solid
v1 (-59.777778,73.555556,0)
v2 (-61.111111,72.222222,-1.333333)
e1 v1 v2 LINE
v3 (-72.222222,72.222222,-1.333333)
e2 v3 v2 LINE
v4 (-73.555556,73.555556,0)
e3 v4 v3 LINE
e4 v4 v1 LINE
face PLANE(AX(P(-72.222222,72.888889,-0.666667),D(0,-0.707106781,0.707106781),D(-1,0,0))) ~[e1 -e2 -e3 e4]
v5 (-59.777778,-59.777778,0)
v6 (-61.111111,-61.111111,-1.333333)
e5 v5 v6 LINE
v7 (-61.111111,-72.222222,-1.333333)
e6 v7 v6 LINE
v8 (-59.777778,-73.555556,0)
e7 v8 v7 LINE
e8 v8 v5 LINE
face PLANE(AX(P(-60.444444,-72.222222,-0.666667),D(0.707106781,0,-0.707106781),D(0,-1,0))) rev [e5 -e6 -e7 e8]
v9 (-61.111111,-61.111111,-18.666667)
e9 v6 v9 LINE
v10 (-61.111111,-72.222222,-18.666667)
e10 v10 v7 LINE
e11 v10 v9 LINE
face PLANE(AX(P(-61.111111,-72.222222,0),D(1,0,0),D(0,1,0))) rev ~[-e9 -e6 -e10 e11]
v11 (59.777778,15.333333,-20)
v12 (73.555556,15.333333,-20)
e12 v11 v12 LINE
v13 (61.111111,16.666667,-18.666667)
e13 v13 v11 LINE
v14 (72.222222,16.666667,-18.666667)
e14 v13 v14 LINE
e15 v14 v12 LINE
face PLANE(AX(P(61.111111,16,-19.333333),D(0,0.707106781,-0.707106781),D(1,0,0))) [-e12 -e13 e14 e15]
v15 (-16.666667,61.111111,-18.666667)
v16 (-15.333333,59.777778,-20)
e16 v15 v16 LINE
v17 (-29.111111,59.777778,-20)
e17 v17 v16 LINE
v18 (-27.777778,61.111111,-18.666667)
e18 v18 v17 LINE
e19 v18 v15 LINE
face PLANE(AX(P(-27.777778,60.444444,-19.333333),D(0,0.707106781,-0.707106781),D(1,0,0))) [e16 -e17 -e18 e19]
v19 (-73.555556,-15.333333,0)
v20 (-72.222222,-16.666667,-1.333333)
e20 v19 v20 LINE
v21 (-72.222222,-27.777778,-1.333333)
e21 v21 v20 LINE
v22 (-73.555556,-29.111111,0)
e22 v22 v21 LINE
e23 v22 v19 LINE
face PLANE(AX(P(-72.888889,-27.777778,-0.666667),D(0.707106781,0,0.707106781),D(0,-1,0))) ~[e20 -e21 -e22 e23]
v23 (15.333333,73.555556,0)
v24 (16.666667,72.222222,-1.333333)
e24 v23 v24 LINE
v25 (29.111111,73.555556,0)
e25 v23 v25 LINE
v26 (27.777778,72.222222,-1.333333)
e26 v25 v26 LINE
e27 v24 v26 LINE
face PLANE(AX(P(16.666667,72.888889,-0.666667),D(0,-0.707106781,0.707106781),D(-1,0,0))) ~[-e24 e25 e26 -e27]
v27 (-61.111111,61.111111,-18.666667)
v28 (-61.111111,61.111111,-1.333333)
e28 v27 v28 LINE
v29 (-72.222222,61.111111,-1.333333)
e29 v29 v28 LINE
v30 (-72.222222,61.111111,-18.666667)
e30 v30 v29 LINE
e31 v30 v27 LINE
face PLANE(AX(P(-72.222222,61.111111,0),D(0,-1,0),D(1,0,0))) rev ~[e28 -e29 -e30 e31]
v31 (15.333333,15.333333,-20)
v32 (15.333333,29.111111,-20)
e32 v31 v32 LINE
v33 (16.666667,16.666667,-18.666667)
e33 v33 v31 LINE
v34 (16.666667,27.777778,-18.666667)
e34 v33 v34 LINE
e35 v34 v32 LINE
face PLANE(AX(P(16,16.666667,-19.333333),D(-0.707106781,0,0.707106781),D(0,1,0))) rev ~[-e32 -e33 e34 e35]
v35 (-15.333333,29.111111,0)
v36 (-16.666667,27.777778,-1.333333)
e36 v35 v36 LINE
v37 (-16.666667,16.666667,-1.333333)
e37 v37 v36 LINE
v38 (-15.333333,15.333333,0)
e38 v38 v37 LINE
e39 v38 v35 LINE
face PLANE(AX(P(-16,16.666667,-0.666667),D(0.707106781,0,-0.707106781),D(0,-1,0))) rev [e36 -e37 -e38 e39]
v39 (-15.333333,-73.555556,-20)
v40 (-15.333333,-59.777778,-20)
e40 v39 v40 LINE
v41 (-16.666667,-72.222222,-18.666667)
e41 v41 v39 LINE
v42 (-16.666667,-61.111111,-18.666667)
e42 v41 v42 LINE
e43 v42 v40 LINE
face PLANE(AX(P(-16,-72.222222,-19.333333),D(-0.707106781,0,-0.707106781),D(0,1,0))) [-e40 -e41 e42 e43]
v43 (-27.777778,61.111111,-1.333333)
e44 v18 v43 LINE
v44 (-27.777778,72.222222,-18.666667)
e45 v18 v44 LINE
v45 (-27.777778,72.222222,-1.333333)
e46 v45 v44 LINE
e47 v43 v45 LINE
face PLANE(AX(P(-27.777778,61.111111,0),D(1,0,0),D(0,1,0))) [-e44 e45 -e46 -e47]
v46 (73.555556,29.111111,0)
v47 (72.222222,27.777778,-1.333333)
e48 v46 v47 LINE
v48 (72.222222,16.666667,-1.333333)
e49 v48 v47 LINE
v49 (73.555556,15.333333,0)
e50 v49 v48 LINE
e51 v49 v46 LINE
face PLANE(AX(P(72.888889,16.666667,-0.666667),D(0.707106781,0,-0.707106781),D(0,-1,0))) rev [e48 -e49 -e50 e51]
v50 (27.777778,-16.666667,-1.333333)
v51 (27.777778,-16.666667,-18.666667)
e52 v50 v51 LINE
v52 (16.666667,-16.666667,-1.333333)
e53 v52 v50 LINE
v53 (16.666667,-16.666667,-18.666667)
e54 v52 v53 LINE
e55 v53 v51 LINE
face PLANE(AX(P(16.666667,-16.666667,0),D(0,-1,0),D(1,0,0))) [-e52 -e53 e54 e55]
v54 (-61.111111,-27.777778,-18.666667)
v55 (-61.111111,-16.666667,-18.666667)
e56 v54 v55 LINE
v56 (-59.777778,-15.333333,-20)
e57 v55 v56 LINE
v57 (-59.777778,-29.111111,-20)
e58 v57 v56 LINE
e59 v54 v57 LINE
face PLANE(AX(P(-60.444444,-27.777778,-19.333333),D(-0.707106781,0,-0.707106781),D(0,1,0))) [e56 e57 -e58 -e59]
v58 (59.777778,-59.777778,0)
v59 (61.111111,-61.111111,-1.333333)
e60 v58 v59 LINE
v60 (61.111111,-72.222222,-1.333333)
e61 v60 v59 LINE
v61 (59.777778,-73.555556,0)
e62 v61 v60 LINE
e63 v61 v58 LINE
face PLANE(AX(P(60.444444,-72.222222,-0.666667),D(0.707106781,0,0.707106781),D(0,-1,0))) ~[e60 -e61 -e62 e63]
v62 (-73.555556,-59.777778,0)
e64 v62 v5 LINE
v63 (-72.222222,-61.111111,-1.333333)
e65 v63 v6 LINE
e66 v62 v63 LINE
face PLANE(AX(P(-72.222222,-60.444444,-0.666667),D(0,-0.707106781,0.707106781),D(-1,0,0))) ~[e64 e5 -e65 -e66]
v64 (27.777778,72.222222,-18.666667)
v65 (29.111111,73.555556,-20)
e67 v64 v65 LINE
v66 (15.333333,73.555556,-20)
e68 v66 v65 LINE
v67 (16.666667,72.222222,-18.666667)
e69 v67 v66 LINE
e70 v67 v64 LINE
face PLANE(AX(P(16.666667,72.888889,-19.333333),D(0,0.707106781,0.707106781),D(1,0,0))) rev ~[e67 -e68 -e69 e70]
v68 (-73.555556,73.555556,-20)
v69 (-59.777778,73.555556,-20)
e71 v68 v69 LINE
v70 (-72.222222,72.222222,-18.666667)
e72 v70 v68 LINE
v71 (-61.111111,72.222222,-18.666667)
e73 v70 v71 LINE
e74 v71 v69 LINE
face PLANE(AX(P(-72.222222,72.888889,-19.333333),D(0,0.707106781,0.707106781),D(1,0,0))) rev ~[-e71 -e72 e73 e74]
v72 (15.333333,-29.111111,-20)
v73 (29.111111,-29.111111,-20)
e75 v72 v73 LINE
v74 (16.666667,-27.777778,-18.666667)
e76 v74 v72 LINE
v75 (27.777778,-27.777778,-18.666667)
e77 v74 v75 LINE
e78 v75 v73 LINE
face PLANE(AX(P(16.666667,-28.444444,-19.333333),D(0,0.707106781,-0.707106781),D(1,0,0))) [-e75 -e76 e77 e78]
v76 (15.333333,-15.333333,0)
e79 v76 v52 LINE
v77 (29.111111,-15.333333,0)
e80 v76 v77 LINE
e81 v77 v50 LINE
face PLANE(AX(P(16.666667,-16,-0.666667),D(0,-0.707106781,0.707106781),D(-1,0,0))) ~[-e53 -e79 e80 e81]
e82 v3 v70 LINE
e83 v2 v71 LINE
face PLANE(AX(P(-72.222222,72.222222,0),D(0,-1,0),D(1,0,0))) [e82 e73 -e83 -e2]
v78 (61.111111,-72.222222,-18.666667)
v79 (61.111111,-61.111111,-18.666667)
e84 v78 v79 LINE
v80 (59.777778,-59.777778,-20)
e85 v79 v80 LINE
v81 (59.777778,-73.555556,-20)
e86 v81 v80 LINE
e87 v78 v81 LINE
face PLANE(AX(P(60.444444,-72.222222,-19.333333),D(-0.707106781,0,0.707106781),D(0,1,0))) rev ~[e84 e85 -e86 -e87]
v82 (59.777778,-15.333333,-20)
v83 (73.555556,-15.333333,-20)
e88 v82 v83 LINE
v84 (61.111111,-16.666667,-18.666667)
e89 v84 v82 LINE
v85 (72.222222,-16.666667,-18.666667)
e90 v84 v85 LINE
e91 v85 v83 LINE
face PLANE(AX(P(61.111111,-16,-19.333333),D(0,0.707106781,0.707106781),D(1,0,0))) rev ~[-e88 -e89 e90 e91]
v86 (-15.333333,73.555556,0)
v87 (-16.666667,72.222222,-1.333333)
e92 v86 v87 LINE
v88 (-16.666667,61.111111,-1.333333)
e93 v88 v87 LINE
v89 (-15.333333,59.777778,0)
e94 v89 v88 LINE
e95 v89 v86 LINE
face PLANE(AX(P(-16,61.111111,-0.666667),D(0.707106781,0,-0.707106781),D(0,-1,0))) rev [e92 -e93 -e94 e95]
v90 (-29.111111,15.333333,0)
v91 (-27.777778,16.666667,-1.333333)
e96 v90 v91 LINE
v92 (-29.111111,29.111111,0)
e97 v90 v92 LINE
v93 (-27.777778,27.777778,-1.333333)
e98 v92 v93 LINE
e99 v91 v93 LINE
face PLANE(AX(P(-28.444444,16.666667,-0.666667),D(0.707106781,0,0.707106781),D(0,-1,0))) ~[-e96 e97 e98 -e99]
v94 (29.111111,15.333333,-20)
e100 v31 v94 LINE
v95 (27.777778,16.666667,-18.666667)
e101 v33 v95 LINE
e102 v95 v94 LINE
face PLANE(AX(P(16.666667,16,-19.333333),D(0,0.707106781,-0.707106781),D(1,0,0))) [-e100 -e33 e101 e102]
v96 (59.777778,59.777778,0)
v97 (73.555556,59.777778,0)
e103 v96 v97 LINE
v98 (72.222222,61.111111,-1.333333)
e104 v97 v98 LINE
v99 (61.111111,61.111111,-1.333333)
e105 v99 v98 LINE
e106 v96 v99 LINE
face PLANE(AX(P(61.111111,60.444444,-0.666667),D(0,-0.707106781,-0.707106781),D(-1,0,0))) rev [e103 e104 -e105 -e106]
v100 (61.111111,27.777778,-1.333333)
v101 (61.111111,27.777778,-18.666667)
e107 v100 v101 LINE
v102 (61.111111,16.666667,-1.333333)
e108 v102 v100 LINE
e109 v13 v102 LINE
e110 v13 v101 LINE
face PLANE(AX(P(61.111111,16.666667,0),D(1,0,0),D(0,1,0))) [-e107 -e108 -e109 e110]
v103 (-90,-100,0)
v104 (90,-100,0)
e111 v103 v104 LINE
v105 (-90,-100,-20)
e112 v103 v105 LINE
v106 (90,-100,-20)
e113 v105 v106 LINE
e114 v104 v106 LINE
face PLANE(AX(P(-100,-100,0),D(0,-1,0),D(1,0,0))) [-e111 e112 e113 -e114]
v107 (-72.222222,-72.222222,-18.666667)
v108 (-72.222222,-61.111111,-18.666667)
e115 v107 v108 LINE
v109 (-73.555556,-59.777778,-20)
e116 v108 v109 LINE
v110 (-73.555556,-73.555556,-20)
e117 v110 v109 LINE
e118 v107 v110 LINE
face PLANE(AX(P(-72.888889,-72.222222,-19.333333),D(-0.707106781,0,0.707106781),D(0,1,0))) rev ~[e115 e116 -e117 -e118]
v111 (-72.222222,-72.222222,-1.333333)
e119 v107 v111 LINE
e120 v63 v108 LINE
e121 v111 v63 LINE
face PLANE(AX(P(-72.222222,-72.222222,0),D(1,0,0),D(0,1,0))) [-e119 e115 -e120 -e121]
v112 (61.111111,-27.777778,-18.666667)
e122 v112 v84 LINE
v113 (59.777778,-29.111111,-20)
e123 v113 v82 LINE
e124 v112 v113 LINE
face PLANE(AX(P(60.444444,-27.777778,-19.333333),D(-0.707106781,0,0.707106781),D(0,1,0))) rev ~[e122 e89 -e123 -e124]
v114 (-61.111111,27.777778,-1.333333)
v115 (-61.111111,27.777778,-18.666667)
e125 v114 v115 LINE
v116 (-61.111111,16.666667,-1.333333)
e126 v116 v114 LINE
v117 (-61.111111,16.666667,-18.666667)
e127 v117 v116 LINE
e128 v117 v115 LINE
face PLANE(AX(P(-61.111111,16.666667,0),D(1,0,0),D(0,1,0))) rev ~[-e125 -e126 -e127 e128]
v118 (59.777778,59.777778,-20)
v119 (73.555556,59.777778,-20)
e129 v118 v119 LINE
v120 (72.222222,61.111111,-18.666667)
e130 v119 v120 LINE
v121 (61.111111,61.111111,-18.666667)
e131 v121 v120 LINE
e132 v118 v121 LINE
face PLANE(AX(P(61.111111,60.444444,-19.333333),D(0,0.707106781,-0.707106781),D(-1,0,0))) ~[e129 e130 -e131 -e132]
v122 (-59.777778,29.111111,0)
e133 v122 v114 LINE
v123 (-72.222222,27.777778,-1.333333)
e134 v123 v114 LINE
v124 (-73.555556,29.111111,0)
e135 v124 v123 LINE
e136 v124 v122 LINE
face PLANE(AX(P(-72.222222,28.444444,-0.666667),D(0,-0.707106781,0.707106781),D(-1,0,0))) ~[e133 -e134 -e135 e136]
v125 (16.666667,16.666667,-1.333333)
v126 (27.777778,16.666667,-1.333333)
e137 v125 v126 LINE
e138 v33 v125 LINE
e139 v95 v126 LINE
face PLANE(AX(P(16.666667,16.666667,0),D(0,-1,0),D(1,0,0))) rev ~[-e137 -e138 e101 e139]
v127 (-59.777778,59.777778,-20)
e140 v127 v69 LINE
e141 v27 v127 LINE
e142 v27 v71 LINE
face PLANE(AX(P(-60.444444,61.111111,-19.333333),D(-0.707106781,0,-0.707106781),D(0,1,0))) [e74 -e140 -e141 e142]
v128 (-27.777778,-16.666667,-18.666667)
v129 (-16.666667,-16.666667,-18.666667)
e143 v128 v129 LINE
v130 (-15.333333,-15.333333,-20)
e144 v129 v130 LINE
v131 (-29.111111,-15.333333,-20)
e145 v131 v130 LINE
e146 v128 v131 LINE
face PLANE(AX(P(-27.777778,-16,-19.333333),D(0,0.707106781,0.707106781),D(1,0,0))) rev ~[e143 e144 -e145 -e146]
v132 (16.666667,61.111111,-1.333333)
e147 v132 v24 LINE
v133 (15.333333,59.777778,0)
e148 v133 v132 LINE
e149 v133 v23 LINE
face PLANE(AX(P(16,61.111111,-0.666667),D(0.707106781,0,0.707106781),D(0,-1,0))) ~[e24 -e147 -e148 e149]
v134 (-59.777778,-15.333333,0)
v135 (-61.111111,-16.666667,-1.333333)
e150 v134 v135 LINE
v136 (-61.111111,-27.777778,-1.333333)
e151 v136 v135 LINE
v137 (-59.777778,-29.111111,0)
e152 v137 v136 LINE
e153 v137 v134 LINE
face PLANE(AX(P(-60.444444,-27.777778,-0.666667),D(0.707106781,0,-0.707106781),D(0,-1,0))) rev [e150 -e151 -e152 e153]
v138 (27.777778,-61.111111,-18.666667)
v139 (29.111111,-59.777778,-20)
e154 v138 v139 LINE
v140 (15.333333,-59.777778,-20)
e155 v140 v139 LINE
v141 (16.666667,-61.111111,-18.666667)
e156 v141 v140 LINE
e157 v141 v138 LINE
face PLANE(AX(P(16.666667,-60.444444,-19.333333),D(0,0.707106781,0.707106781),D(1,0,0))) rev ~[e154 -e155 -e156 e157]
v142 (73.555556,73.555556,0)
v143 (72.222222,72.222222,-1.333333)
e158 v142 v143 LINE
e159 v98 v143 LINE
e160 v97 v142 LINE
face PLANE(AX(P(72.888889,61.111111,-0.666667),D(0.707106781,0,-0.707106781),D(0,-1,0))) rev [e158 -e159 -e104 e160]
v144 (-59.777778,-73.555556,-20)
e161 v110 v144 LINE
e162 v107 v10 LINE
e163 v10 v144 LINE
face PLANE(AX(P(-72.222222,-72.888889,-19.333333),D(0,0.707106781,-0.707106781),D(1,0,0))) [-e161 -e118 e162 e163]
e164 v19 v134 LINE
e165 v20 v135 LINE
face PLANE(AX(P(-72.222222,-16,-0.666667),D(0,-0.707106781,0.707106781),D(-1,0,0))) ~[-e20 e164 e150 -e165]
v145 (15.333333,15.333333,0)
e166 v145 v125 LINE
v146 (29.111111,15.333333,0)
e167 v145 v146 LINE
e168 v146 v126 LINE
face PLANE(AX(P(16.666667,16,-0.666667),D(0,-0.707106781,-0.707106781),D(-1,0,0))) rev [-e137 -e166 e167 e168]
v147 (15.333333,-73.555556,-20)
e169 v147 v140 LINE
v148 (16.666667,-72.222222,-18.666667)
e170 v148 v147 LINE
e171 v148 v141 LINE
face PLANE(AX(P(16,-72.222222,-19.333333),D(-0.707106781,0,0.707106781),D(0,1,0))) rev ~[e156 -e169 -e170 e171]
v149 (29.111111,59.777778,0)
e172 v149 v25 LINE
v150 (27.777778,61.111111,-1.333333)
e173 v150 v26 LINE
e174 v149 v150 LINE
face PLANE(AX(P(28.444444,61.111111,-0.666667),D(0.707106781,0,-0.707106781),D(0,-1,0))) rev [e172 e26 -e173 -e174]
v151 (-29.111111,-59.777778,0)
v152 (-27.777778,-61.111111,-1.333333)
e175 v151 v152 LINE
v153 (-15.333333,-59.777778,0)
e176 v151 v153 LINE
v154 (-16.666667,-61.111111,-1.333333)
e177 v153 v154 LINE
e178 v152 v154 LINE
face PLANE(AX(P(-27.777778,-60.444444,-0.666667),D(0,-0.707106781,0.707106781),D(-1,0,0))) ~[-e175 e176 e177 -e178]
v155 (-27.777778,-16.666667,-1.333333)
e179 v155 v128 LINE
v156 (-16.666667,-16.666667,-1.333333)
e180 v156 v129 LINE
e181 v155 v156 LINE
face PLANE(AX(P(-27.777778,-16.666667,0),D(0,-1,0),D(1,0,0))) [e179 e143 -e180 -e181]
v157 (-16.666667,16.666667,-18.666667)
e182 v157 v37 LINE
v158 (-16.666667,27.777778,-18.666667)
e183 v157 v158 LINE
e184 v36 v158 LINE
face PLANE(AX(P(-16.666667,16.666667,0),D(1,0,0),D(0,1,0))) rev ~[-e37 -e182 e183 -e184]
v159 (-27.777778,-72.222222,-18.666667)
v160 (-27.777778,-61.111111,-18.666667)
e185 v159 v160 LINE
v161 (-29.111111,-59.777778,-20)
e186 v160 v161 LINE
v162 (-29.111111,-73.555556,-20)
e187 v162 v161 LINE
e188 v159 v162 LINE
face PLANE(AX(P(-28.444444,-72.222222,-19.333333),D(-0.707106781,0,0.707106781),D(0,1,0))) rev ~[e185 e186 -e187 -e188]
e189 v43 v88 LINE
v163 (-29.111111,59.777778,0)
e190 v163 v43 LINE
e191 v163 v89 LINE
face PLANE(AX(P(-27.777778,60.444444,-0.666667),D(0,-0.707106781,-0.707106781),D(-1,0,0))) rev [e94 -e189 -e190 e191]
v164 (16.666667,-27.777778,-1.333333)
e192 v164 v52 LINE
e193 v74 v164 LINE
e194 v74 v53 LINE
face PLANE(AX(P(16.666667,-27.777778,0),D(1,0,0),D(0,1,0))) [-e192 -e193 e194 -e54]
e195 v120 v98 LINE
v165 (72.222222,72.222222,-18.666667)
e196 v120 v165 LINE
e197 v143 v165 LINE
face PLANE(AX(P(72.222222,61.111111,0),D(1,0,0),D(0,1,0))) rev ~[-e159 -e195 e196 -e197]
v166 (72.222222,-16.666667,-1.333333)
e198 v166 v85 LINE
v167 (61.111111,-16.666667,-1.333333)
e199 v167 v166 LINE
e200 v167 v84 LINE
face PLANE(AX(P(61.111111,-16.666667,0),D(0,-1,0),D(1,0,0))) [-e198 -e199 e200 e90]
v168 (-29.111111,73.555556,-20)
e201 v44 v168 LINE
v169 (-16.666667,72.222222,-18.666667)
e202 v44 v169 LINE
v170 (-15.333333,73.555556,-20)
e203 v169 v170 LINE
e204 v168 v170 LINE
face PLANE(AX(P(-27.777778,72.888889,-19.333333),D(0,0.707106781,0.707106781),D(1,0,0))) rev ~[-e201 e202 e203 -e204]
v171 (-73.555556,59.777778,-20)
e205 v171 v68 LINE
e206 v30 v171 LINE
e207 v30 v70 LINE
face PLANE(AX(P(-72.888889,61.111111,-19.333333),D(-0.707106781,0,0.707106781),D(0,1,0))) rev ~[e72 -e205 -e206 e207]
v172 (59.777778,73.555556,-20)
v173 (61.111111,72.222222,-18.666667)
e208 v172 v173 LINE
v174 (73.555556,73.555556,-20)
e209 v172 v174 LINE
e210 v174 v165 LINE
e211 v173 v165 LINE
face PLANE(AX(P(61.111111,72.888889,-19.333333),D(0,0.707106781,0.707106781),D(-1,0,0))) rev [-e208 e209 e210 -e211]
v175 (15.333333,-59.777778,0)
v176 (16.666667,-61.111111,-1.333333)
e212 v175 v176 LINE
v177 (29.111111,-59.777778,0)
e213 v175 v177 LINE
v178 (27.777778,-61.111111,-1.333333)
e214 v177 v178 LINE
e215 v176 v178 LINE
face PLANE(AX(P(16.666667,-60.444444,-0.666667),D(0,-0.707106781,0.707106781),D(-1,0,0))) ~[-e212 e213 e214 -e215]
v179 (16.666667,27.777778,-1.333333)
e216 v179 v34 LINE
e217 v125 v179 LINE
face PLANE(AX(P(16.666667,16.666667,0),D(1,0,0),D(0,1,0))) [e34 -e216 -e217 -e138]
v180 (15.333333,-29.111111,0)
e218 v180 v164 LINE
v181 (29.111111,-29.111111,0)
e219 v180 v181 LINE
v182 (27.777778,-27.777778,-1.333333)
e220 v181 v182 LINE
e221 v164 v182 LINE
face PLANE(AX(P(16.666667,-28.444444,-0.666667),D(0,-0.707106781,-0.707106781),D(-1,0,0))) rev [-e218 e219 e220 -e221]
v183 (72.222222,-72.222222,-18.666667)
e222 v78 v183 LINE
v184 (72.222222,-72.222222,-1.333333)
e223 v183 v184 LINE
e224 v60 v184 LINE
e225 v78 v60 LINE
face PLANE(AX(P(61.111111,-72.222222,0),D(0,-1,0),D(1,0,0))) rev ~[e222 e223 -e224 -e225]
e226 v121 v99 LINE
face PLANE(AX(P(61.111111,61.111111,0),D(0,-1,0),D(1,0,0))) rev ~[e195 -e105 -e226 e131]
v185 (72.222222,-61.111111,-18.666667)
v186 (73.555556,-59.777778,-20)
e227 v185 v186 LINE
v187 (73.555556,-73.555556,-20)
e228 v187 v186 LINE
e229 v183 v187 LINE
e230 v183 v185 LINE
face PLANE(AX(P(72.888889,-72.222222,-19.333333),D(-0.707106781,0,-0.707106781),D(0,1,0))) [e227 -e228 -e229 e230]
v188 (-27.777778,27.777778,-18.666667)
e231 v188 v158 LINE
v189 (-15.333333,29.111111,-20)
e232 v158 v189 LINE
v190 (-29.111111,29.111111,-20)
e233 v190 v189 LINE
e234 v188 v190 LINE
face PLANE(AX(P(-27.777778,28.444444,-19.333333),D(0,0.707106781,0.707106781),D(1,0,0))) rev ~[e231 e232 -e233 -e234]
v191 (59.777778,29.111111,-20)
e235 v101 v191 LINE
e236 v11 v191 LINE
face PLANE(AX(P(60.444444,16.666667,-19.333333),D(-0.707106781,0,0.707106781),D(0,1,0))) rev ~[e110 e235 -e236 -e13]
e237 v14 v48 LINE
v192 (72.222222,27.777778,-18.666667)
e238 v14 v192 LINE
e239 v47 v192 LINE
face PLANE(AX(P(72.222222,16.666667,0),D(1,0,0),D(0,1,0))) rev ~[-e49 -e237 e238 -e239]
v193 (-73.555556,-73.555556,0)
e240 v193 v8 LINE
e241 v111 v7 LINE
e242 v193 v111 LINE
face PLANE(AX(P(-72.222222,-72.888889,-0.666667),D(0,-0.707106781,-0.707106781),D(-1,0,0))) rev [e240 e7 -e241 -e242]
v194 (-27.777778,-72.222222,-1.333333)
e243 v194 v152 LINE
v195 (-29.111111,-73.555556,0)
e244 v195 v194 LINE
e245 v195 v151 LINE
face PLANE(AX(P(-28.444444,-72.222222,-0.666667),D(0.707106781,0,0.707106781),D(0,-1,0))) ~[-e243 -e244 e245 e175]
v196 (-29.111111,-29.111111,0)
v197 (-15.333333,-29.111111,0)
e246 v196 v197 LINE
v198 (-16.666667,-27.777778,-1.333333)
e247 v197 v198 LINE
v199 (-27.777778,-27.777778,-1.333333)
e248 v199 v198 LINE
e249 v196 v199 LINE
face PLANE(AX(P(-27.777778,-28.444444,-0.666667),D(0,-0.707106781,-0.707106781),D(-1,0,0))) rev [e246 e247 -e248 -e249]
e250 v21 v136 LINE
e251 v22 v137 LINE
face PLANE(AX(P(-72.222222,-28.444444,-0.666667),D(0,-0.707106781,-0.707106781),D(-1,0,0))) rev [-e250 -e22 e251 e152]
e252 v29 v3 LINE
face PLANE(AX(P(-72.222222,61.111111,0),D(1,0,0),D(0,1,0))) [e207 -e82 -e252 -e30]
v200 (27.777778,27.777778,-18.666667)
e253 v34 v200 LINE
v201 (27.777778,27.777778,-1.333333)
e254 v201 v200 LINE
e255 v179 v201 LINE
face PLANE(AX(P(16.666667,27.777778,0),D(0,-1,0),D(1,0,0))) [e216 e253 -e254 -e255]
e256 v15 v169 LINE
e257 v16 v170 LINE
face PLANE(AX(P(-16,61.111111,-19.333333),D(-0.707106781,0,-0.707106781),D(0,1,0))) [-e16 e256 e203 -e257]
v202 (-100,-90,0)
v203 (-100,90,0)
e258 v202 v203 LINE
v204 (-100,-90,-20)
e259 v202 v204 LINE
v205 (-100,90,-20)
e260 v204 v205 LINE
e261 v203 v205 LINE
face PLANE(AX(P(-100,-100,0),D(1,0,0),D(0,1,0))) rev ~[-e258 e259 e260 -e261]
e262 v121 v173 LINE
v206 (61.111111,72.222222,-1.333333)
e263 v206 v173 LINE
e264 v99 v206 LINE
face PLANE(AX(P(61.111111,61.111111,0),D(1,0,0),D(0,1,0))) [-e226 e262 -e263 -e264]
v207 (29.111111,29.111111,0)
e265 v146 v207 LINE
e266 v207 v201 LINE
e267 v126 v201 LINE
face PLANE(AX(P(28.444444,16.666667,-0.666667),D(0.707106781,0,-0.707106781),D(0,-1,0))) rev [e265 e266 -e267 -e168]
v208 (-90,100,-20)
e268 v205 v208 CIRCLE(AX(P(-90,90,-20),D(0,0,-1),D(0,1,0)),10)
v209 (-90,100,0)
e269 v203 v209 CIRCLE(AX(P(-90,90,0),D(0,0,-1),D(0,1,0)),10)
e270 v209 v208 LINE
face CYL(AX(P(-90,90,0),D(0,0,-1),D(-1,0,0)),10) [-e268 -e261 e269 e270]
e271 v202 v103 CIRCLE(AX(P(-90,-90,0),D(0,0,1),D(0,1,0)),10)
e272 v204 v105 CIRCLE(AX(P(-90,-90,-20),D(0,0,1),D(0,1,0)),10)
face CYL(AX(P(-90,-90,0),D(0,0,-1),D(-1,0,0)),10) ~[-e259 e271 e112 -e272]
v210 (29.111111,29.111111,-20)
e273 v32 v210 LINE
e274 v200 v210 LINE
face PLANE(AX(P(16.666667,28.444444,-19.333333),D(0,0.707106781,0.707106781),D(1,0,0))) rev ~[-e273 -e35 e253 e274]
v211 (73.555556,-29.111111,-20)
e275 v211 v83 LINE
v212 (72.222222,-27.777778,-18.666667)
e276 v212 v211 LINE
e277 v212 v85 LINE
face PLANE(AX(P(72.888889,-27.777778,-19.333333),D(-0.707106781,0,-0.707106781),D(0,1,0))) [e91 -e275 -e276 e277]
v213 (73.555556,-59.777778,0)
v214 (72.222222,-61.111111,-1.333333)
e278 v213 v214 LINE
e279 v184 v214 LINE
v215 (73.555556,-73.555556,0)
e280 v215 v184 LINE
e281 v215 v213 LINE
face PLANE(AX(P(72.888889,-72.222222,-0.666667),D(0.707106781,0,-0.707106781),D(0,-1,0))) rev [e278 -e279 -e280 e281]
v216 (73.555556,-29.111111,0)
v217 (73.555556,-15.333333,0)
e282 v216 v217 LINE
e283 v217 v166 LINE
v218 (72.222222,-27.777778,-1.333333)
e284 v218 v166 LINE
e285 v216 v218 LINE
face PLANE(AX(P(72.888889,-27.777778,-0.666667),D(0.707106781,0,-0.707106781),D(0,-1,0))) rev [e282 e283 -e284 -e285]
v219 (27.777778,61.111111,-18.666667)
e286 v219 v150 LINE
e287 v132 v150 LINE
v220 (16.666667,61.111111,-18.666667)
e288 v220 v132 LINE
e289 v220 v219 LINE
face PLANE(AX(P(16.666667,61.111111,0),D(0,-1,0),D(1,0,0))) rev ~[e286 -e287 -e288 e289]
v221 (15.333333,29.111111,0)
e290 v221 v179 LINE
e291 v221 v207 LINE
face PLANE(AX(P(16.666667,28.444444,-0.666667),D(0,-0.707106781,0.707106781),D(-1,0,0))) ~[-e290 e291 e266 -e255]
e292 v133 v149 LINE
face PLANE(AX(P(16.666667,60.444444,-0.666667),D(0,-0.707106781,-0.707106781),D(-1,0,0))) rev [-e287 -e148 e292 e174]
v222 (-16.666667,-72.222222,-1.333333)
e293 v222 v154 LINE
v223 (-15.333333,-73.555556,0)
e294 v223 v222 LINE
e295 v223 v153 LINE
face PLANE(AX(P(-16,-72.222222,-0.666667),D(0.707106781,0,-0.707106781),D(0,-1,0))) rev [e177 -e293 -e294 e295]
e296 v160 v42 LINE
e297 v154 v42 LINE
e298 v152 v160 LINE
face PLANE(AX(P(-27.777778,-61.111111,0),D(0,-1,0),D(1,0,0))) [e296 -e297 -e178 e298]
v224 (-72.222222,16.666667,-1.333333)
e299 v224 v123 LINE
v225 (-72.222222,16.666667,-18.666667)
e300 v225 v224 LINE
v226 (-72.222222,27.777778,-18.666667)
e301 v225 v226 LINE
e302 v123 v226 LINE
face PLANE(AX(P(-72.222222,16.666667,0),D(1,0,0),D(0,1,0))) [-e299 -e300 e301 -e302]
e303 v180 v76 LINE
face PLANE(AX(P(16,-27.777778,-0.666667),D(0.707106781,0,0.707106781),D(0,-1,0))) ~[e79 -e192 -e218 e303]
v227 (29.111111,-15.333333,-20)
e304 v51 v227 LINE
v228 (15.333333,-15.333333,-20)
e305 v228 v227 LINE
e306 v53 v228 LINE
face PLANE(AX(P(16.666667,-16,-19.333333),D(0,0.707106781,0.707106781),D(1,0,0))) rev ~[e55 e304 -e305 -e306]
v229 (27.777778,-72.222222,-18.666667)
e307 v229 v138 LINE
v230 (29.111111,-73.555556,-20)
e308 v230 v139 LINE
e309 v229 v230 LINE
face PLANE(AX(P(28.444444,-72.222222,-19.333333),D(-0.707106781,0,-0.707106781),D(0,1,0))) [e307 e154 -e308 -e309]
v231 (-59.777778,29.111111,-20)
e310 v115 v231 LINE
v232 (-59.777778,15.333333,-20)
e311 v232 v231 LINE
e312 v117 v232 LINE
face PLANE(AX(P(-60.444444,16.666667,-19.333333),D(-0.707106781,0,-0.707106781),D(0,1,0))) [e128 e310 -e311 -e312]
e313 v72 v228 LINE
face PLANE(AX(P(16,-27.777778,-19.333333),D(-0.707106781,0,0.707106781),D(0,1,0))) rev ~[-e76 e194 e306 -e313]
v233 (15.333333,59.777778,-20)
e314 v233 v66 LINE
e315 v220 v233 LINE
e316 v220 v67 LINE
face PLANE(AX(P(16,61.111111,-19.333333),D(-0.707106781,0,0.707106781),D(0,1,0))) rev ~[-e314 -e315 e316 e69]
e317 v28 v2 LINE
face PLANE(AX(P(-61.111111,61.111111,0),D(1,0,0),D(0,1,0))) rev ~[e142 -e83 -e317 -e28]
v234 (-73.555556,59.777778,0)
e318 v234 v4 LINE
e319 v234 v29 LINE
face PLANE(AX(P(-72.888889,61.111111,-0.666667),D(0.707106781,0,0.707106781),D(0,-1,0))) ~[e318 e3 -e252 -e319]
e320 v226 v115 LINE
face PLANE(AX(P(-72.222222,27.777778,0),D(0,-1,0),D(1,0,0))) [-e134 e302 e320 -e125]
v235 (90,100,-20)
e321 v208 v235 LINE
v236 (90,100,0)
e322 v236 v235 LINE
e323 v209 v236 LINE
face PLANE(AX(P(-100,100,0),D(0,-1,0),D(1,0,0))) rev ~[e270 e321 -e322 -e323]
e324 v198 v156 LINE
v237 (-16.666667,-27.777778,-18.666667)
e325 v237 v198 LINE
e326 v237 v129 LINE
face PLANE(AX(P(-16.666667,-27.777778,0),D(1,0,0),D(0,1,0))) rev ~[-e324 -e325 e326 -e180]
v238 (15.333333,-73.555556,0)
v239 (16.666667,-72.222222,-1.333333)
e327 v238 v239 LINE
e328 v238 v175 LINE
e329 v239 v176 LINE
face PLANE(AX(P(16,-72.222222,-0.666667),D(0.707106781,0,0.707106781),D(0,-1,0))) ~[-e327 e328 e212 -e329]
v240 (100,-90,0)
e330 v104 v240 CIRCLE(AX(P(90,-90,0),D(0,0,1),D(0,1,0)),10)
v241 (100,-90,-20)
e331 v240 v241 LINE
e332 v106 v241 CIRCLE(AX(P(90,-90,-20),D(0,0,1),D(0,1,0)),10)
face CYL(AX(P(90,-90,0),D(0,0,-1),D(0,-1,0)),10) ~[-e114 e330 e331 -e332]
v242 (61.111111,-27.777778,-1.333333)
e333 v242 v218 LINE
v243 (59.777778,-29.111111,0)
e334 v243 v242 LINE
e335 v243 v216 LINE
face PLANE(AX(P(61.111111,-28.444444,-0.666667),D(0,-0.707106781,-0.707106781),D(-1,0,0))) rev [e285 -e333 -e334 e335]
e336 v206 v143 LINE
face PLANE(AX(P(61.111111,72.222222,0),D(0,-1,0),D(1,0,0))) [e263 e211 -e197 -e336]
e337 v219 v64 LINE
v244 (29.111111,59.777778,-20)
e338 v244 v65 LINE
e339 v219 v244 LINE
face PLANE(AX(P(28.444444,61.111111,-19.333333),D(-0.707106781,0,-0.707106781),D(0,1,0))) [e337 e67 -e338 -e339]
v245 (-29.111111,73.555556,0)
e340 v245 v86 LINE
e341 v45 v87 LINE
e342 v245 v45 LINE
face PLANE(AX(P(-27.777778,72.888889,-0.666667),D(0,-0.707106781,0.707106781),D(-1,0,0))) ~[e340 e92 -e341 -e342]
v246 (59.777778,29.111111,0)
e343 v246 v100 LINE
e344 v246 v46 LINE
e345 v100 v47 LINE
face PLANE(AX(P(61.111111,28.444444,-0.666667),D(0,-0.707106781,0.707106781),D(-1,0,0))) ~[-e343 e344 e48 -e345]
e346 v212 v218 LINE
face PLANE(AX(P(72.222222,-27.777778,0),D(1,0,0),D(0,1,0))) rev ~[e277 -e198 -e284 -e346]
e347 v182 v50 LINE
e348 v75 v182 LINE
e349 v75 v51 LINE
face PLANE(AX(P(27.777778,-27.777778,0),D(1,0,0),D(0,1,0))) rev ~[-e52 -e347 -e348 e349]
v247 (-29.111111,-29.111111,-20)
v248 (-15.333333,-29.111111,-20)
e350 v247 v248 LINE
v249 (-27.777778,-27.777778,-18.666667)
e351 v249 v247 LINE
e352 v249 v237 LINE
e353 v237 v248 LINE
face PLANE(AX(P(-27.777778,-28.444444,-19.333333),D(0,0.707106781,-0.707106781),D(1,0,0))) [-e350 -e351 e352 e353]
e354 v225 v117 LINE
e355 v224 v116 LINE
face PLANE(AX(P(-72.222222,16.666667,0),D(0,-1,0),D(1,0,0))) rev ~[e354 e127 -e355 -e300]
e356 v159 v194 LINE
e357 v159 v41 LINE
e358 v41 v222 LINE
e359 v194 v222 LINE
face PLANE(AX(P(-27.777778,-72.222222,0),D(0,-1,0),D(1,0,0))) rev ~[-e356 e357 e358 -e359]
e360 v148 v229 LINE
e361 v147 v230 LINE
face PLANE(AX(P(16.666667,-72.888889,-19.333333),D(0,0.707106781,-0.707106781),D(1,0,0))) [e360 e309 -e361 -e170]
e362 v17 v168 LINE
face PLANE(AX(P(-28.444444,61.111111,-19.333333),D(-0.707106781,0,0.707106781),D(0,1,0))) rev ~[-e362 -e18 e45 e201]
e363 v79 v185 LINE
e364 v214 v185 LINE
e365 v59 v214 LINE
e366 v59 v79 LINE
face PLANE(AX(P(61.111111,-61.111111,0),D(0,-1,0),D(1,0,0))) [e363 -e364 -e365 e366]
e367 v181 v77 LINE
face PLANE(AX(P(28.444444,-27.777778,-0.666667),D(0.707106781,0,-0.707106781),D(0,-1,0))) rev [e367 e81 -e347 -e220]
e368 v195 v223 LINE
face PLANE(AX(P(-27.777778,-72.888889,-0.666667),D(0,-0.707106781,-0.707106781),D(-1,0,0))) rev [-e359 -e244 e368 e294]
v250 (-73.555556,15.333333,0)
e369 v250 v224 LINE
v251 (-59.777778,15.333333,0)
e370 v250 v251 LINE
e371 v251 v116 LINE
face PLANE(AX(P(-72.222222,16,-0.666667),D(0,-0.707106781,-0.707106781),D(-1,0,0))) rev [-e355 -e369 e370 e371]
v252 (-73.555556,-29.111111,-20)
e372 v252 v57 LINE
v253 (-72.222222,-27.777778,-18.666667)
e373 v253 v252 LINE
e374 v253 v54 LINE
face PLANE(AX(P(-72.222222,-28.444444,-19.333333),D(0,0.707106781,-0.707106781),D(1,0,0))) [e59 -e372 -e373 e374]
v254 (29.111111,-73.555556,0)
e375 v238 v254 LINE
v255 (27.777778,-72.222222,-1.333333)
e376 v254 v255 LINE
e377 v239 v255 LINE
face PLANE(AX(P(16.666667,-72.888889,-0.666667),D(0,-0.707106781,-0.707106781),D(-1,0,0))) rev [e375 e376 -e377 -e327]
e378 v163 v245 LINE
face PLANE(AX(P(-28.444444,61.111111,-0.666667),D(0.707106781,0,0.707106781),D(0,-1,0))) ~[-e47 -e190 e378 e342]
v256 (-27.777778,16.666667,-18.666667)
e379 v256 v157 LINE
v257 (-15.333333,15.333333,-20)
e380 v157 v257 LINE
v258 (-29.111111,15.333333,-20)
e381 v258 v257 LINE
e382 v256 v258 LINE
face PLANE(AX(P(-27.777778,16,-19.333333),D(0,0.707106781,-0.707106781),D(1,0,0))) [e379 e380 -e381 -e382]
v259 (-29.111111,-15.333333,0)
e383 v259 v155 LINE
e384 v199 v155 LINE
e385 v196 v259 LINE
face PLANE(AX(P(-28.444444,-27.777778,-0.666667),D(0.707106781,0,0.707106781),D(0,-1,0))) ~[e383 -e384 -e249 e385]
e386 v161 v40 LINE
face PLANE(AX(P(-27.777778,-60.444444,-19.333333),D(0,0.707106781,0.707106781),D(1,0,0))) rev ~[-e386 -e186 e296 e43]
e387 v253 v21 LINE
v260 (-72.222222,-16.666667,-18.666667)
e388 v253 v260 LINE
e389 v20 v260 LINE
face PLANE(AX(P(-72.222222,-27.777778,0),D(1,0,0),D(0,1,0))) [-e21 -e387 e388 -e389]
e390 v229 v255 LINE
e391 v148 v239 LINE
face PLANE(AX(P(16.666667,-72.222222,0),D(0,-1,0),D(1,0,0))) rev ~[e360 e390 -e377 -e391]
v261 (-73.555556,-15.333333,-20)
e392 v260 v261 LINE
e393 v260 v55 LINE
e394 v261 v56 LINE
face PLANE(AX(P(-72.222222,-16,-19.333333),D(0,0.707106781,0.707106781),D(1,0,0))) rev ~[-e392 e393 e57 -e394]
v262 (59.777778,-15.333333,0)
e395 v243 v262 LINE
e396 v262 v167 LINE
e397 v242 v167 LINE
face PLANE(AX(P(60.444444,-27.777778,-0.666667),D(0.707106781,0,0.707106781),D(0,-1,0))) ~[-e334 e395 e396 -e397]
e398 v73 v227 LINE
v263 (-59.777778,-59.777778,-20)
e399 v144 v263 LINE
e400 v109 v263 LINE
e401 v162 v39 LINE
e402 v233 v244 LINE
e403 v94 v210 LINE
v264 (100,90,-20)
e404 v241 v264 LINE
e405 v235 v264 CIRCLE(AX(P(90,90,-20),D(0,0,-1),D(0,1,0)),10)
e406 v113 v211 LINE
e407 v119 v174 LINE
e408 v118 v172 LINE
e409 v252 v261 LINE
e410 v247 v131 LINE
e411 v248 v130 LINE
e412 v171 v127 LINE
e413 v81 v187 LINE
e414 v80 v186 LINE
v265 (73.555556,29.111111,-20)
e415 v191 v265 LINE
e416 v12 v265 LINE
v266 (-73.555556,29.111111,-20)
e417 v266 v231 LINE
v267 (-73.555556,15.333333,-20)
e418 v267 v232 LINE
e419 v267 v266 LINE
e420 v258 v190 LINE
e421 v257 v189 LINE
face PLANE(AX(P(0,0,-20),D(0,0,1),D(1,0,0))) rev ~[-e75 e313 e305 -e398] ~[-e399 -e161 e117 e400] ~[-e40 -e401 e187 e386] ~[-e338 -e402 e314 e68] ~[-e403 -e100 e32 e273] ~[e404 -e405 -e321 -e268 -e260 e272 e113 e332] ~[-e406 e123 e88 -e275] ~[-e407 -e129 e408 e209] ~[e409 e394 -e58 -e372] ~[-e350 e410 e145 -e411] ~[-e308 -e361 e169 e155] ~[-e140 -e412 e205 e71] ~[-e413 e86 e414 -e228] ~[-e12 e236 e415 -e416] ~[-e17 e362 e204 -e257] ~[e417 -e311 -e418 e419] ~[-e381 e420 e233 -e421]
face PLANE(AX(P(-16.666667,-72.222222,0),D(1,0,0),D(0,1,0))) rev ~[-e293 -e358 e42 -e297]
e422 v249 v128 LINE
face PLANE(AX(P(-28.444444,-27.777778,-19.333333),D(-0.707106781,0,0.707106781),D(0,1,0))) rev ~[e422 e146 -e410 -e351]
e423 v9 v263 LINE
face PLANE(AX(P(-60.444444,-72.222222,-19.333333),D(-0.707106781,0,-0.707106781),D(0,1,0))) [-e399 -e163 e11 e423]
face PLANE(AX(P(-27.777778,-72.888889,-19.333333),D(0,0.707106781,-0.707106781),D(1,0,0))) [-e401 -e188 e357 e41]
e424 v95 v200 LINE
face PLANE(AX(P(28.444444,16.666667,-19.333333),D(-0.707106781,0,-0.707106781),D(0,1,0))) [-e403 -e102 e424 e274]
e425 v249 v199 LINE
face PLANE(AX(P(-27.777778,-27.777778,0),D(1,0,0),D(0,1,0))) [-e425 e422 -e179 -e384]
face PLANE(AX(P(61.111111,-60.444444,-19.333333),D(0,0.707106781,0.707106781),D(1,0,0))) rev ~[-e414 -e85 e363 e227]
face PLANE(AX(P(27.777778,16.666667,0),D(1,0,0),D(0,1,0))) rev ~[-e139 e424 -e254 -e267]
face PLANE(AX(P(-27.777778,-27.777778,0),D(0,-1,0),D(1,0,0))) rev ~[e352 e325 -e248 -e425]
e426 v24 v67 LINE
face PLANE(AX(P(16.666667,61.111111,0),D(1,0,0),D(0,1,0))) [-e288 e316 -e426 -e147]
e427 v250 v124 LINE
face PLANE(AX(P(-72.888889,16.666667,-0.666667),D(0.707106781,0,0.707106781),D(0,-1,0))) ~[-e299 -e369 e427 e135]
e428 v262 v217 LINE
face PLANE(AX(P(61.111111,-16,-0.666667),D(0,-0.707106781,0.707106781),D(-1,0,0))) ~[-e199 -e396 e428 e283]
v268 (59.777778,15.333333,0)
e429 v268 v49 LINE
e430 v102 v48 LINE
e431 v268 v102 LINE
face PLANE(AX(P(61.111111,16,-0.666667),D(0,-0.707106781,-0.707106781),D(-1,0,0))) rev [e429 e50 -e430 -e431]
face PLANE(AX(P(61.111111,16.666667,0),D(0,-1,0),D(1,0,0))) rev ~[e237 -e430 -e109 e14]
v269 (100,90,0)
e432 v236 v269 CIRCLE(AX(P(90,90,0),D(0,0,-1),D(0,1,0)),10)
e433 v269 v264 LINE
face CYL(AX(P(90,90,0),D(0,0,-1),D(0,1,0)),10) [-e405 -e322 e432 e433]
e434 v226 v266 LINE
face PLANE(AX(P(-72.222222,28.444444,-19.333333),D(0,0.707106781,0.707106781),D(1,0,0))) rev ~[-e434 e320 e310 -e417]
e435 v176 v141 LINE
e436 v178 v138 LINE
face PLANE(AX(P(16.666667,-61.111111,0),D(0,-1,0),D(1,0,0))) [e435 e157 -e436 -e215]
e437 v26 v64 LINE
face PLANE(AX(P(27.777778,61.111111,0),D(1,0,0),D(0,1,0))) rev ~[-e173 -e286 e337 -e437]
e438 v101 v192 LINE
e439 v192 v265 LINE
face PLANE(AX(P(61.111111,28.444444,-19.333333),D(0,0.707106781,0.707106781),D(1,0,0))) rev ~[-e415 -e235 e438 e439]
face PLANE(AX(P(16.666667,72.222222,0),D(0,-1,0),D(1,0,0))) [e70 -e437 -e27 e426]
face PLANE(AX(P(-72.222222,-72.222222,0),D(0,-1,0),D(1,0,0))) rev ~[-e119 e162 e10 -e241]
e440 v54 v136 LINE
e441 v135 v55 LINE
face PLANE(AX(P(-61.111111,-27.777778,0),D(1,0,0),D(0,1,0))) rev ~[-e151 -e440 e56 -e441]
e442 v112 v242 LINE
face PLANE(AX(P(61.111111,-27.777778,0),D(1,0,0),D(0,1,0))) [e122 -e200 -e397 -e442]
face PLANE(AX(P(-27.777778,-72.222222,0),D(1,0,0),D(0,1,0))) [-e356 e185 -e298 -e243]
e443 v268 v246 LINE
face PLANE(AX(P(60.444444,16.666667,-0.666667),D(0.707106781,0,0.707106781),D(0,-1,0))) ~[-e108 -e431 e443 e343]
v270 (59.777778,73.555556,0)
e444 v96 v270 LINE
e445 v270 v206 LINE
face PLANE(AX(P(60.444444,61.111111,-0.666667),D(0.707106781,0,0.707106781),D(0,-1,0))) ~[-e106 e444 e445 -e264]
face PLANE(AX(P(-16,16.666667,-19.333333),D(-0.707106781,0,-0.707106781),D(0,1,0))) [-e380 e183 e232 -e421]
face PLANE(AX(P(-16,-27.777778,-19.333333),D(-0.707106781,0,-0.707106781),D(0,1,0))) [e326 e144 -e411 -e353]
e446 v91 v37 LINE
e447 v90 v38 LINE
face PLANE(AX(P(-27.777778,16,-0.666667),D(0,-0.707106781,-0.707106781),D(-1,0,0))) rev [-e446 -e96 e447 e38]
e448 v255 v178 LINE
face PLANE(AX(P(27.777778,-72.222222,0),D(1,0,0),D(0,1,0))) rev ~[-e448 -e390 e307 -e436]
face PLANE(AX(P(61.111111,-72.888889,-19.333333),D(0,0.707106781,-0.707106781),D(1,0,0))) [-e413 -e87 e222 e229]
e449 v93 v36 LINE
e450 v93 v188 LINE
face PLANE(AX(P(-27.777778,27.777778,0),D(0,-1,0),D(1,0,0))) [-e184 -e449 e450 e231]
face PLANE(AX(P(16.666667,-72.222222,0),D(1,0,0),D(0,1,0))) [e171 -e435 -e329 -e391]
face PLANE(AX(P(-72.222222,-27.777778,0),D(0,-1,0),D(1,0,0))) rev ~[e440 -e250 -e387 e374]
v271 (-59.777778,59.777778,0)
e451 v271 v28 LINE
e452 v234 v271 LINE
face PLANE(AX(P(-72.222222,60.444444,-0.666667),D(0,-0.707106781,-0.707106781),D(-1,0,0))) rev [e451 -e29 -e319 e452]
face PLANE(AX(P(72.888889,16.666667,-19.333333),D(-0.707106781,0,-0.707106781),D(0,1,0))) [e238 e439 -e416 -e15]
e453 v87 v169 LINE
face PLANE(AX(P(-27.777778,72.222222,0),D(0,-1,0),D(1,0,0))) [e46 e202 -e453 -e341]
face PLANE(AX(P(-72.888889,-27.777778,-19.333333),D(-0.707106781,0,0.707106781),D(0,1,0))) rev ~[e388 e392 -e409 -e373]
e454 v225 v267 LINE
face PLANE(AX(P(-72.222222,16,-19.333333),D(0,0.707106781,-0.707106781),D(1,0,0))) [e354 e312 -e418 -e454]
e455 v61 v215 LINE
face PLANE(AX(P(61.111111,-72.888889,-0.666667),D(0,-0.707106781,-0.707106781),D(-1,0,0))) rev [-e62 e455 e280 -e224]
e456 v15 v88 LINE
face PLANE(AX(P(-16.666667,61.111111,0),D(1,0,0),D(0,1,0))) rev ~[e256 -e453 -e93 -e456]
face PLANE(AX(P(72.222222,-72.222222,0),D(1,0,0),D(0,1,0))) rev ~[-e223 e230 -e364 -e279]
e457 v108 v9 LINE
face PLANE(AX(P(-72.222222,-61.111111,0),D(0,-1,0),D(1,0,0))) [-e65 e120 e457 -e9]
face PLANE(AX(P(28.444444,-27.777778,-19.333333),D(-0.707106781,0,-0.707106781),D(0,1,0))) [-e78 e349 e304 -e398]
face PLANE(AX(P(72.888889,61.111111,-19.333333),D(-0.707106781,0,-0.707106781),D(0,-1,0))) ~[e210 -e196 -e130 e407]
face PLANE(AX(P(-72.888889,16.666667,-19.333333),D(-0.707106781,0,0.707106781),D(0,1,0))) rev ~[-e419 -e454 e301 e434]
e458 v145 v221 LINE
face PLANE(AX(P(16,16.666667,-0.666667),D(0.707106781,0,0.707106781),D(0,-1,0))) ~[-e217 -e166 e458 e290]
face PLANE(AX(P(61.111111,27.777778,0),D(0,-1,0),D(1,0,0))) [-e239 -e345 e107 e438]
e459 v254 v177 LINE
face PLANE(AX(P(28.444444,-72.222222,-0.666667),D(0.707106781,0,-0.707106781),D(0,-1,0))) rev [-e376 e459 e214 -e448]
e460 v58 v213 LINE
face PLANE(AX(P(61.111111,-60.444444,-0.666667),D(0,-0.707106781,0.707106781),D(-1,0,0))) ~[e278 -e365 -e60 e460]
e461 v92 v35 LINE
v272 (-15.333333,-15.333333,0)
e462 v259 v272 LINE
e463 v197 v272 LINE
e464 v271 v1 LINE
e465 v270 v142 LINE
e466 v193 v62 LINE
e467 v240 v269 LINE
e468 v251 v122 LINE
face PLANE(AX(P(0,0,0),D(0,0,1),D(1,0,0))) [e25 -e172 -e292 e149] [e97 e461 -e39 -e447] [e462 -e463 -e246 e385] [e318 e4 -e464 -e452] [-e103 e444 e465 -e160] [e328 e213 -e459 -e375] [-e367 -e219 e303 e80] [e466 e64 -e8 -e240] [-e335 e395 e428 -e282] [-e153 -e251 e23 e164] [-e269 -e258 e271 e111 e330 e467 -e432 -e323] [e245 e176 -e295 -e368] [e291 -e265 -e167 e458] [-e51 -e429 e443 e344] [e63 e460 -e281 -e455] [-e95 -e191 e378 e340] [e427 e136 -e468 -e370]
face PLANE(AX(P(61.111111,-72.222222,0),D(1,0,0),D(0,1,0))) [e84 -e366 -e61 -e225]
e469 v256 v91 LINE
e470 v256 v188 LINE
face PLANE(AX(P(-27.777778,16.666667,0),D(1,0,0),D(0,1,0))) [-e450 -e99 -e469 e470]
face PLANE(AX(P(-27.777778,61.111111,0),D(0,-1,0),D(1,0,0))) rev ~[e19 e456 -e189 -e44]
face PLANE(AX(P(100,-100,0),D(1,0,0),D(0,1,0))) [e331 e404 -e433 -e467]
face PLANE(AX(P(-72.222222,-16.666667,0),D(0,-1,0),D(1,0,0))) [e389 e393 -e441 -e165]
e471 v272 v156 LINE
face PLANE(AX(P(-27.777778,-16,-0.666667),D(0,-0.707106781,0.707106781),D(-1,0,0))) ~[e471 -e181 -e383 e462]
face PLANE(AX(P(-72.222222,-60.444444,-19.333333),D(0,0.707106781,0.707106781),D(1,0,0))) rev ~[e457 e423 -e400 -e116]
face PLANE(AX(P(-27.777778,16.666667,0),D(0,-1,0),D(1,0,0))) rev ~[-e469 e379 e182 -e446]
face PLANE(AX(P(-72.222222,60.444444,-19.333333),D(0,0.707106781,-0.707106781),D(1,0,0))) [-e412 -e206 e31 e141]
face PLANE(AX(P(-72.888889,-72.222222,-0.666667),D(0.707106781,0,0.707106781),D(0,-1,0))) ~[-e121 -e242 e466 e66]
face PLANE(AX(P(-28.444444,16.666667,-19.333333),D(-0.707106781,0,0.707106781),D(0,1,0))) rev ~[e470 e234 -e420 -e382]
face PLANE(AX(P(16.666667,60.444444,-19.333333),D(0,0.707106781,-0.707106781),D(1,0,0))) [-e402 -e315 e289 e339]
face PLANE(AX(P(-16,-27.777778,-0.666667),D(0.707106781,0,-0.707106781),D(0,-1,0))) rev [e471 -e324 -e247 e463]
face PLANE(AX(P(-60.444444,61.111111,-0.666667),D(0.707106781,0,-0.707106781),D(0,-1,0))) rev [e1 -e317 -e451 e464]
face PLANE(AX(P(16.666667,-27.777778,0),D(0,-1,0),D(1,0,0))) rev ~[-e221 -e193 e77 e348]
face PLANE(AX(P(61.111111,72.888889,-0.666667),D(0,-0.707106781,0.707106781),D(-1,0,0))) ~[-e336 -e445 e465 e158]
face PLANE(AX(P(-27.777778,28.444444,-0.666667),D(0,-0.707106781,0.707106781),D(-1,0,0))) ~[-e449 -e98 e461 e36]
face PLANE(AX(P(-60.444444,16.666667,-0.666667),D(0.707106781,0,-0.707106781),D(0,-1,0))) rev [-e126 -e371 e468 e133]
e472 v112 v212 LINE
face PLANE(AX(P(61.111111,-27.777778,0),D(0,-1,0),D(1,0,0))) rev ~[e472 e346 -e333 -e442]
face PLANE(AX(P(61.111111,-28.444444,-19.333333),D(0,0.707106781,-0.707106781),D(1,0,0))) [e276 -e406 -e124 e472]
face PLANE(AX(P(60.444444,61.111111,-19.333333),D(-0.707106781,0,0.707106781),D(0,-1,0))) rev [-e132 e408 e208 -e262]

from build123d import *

# Parameters (mm, degrees)
SKETCH1_W                  = 200
SKETCH1_H                  = 200
BOSS_EXTRUDE1_DEPTH        = 20
SKETCH1_3_W                = 11.111111111
SKETCH1_3_H                = 11.111111111
CUT_EXTRUDE2_DEPTH         = 143.828568571
CHAMFER1_SIZE              = 1.333333333
LPATTERN1_COUNT            = 4
LPATTERN1_PITCH            = 44.444444444
LPATTERN1_COUNT_DIR2       = 4
LPATTERN1_PITCH_DIR2       = 44.444444444
CHAMFER1_OF_LPATTERN1_SIZE = 1.333333333
FILLET1_R                  = 10


with BuildPart() as part:
    # Sketch1 → Boss-Extrude1 (new body)
    with BuildSketch(Plane.XY):
        Rectangle(SKETCH1_W, SKETCH1_H)
    extrude(amount=-BOSS_EXTRUDE1_DEPTH)

    # Sketch1_3 → Cut-Extrude2 (cut, symmetric)
    with BuildSketch(Plane.XY):
        with Locations((66.666666667, 66.666666667)):
            Rectangle(SKETCH1_3_W, SKETCH1_3_H)
    cut_extrude2 = extrude(amount=CUT_EXTRUDE2_DEPTH, both=True, mode=Mode.SUBTRACT)

    # Chamfer1
    chamfer1_edges = [part.edges().sort_by_distance(p)[0] for p in [
        (61.111111111, 66.666666667, 0),
        (66.666666667, 61.111111111, 0),
        (72.222222222, 66.666666667, 0),
        (66.666666667, 72.222222222, 0),
        (66.666666667, 72.222222222, -20),
        (61.111111111, 66.666666667, -20),
        (72.222222222, 66.666666667, -20),
        (66.666666667, 61.111111111, -20),
    ]]
    chamfer(chamfer1_edges, length=CHAMFER1_SIZE)

    # LPattern1: Cut-Extrude2 4 × 4
    with Locations(*[(-i * LPATTERN1_PITCH, -j * LPATTERN1_PITCH_DIR2, 0) for i in range(LPATTERN1_COUNT) for j in range(LPATTERN1_COUNT_DIR2) if (i, j) != (0, 0)]):
        add(cut_extrude2, mode=Mode.SUBTRACT)

    # Chamfer1 of LPattern1
    chamfer1_of_lpattern1_edges = [part.edges().sort_by_distance(p)[0] for p in [
        (61.111111111, 22.222222222, 0),
        (66.666666667, 16.666666667, 0),
        (72.222222222, 22.222222222, 0),
        (66.666666667, 27.777777778, 0),
        (66.666666667, 27.777777778, -20),
        (61.111111111, 22.222222222, -20),
        (72.222222222, 22.222222222, -20),
        (66.666666667, 16.666666667, -20),
        (61.111111111, -22.222222222, 0),
        (66.666666667, -27.777777778, 0),
        (72.222222222, -22.222222222, 0),
        (66.666666667, -16.666666667, 0),
        (66.666666667, -16.666666667, -20),
        (61.111111111, -22.222222222, -20),
        (72.222222222, -22.222222222, -20),
        (66.666666667, -27.777777778, -20),
        (61.111111111, -66.666666667, 0),
        (66.666666667, -72.222222222, 0),
        (72.222222222, -66.666666667, 0),
        (66.666666667, -61.111111111, 0),
        (66.666666667, -61.111111111, -20),
        (61.111111111, -66.666666667, -20),
        (72.222222222, -66.666666667, -20),
        (66.666666667, -72.222222222, -20),
        (16.666666667, 66.666666667, 0),
        (22.222222222, 61.111111111, 0),
        (27.777777778, 66.666666667, 0),
        (22.222222222, 72.222222222, 0),
        (22.222222222, 72.222222222, -20),
        (16.666666667, 66.666666667, -20),
        (27.777777778, 66.666666667, -20),
        (22.222222222, 61.111111111, -20),
        (16.666666667, 22.222222222, 0),
        (22.222222222, 16.666666667, 0),
        (27.777777778, 22.222222222, 0),
        (22.222222222, 27.777777778, 0),
        (22.222222222, 27.777777778, -20),
        (16.666666667, 22.222222222, -20),
        (27.777777778, 22.222222222, -20),
        (22.222222222, 16.666666667, -20),
        (16.666666667, -22.222222222, 0),
        (22.222222222, -27.777777778, 0),
        (27.777777778, -22.222222222, 0),
        (22.222222222, -16.666666667, 0),
        (22.222222222, -16.666666667, -20),
        (16.666666667, -22.222222222, -20),
        (27.777777778, -22.222222222, -20),
        (22.222222222, -27.777777778, -20),
        (16.666666667, -66.666666667, 0),
        (22.222222222, -72.222222222, 0),
        (27.777777778, -66.666666667, 0),
        (22.222222222, -61.111111111, 0),
        (22.222222222, -61.111111111, -20),
        (16.666666667, -66.666666667, -20),
        (27.777777778, -66.666666667, -20),
        (22.222222222, -72.222222222, -20),
        (-27.777777778, 66.666666667, 0),
        (-22.222222222, 61.111111111, 0),
        (-16.666666667, 66.666666667, 0),
        (-22.222222222, 72.222222222, 0),
        (-22.222222222, 72.222222222, -20),
        (-27.777777778, 66.666666667, -20),
        (-16.666666667, 66.666666667, -20),
        (-22.222222222, 61.111111111, -20),
        (-27.777777778, 22.222222222, 0),
        (-22.222222222, 16.666666667, 0),
        (-16.666666667, 22.222222222, 0),
        (-22.222222222, 27.777777778, 0),
        (-22.222222222, 27.777777778, -20),
        (-27.777777778, 22.222222222, -20),
        (-16.666666667, 22.222222222, -20),
        (-22.222222222, 16.666666667, -20),
        (-27.777777778, -22.222222222, 0),
        (-22.222222222, -27.777777778, 0),
        (-16.666666667, -22.222222222, 0),
        (-22.222222222, -16.666666667, 0),
        (-22.222222222, -16.666666667, -20),
        (-27.777777778, -22.222222222, -20),
        (-16.666666667, -22.222222222, -20),
        (-22.222222222, -27.777777778, -20),
        (-27.777777778, -66.666666667, 0),
        (-22.222222222, -72.222222222, 0),
        (-16.666666667, -66.666666667, 0),
        (-22.222222222, -61.111111111, 0),
        (-22.222222222, -61.111111111, -20),
        (-27.777777778, -66.666666667, -20),
        (-16.666666667, -66.666666667, -20),
        (-22.222222222, -72.222222222, -20),
        (-72.222222222, 66.666666667, 0),
        (-66.666666667, 61.111111111, 0),
        (-61.111111111, 66.666666667, 0),
        (-66.666666667, 72.222222222, 0),
        (-66.666666667, 72.222222222, -20),
        (-72.222222222, 66.666666667, -20),
        (-61.111111111, 66.666666667, -20),
        (-66.666666667, 61.111111111, -20),
        (-72.222222222, 22.222222222, 0),
        (-66.666666667, 16.666666667, 0),
        (-61.111111111, 22.222222222, 0),
        (-66.666666667, 27.777777778, 0),
        (-66.666666667, 27.777777778, -20),
        (-72.222222222, 22.222222222, -20),
        (-61.111111111, 22.222222222, -20),
        (-66.666666667, 16.666666667, -20),
        (-72.222222222, -22.222222222, 0),
        (-66.666666667, -27.777777778, 0),
        (-61.111111111, -22.222222222, 0),
        (-66.666666667, -16.666666667, 0),
        (-66.666666667, -16.666666667, -20),
        (-72.222222222, -22.222222222, -20),
        (-61.111111111, -22.222222222, -20),
        (-66.666666667, -27.777777778, -20),
        (-72.222222222, -66.666666667, 0),
        (-66.666666667, -72.222222222, 0),
        (-61.111111111, -66.666666667, 0),
        (-66.666666667, -61.111111111, 0),
        (-66.666666667, -61.111111111, -20),
        (-72.222222222, -66.666666667, -20),
        (-61.111111111, -66.666666667, -20),
        (-66.666666667, -72.222222222, -20),
    ]]
    chamfer(chamfer1_of_lpattern1_edges, length=CHAMFER1_OF_LPATTERN1_SIZE)

    # Fillet1
    fillet1_edges = [part.edges().sort_by_distance(p)[0] for p in [
        (-100, -100, -10),
        (100, -100, -10),
        (100, 100, -10),
        (-100, 100, -10),
    ]]
    fillet(fillet1_edges, radius=FILLET1_R)


solid = part.part
